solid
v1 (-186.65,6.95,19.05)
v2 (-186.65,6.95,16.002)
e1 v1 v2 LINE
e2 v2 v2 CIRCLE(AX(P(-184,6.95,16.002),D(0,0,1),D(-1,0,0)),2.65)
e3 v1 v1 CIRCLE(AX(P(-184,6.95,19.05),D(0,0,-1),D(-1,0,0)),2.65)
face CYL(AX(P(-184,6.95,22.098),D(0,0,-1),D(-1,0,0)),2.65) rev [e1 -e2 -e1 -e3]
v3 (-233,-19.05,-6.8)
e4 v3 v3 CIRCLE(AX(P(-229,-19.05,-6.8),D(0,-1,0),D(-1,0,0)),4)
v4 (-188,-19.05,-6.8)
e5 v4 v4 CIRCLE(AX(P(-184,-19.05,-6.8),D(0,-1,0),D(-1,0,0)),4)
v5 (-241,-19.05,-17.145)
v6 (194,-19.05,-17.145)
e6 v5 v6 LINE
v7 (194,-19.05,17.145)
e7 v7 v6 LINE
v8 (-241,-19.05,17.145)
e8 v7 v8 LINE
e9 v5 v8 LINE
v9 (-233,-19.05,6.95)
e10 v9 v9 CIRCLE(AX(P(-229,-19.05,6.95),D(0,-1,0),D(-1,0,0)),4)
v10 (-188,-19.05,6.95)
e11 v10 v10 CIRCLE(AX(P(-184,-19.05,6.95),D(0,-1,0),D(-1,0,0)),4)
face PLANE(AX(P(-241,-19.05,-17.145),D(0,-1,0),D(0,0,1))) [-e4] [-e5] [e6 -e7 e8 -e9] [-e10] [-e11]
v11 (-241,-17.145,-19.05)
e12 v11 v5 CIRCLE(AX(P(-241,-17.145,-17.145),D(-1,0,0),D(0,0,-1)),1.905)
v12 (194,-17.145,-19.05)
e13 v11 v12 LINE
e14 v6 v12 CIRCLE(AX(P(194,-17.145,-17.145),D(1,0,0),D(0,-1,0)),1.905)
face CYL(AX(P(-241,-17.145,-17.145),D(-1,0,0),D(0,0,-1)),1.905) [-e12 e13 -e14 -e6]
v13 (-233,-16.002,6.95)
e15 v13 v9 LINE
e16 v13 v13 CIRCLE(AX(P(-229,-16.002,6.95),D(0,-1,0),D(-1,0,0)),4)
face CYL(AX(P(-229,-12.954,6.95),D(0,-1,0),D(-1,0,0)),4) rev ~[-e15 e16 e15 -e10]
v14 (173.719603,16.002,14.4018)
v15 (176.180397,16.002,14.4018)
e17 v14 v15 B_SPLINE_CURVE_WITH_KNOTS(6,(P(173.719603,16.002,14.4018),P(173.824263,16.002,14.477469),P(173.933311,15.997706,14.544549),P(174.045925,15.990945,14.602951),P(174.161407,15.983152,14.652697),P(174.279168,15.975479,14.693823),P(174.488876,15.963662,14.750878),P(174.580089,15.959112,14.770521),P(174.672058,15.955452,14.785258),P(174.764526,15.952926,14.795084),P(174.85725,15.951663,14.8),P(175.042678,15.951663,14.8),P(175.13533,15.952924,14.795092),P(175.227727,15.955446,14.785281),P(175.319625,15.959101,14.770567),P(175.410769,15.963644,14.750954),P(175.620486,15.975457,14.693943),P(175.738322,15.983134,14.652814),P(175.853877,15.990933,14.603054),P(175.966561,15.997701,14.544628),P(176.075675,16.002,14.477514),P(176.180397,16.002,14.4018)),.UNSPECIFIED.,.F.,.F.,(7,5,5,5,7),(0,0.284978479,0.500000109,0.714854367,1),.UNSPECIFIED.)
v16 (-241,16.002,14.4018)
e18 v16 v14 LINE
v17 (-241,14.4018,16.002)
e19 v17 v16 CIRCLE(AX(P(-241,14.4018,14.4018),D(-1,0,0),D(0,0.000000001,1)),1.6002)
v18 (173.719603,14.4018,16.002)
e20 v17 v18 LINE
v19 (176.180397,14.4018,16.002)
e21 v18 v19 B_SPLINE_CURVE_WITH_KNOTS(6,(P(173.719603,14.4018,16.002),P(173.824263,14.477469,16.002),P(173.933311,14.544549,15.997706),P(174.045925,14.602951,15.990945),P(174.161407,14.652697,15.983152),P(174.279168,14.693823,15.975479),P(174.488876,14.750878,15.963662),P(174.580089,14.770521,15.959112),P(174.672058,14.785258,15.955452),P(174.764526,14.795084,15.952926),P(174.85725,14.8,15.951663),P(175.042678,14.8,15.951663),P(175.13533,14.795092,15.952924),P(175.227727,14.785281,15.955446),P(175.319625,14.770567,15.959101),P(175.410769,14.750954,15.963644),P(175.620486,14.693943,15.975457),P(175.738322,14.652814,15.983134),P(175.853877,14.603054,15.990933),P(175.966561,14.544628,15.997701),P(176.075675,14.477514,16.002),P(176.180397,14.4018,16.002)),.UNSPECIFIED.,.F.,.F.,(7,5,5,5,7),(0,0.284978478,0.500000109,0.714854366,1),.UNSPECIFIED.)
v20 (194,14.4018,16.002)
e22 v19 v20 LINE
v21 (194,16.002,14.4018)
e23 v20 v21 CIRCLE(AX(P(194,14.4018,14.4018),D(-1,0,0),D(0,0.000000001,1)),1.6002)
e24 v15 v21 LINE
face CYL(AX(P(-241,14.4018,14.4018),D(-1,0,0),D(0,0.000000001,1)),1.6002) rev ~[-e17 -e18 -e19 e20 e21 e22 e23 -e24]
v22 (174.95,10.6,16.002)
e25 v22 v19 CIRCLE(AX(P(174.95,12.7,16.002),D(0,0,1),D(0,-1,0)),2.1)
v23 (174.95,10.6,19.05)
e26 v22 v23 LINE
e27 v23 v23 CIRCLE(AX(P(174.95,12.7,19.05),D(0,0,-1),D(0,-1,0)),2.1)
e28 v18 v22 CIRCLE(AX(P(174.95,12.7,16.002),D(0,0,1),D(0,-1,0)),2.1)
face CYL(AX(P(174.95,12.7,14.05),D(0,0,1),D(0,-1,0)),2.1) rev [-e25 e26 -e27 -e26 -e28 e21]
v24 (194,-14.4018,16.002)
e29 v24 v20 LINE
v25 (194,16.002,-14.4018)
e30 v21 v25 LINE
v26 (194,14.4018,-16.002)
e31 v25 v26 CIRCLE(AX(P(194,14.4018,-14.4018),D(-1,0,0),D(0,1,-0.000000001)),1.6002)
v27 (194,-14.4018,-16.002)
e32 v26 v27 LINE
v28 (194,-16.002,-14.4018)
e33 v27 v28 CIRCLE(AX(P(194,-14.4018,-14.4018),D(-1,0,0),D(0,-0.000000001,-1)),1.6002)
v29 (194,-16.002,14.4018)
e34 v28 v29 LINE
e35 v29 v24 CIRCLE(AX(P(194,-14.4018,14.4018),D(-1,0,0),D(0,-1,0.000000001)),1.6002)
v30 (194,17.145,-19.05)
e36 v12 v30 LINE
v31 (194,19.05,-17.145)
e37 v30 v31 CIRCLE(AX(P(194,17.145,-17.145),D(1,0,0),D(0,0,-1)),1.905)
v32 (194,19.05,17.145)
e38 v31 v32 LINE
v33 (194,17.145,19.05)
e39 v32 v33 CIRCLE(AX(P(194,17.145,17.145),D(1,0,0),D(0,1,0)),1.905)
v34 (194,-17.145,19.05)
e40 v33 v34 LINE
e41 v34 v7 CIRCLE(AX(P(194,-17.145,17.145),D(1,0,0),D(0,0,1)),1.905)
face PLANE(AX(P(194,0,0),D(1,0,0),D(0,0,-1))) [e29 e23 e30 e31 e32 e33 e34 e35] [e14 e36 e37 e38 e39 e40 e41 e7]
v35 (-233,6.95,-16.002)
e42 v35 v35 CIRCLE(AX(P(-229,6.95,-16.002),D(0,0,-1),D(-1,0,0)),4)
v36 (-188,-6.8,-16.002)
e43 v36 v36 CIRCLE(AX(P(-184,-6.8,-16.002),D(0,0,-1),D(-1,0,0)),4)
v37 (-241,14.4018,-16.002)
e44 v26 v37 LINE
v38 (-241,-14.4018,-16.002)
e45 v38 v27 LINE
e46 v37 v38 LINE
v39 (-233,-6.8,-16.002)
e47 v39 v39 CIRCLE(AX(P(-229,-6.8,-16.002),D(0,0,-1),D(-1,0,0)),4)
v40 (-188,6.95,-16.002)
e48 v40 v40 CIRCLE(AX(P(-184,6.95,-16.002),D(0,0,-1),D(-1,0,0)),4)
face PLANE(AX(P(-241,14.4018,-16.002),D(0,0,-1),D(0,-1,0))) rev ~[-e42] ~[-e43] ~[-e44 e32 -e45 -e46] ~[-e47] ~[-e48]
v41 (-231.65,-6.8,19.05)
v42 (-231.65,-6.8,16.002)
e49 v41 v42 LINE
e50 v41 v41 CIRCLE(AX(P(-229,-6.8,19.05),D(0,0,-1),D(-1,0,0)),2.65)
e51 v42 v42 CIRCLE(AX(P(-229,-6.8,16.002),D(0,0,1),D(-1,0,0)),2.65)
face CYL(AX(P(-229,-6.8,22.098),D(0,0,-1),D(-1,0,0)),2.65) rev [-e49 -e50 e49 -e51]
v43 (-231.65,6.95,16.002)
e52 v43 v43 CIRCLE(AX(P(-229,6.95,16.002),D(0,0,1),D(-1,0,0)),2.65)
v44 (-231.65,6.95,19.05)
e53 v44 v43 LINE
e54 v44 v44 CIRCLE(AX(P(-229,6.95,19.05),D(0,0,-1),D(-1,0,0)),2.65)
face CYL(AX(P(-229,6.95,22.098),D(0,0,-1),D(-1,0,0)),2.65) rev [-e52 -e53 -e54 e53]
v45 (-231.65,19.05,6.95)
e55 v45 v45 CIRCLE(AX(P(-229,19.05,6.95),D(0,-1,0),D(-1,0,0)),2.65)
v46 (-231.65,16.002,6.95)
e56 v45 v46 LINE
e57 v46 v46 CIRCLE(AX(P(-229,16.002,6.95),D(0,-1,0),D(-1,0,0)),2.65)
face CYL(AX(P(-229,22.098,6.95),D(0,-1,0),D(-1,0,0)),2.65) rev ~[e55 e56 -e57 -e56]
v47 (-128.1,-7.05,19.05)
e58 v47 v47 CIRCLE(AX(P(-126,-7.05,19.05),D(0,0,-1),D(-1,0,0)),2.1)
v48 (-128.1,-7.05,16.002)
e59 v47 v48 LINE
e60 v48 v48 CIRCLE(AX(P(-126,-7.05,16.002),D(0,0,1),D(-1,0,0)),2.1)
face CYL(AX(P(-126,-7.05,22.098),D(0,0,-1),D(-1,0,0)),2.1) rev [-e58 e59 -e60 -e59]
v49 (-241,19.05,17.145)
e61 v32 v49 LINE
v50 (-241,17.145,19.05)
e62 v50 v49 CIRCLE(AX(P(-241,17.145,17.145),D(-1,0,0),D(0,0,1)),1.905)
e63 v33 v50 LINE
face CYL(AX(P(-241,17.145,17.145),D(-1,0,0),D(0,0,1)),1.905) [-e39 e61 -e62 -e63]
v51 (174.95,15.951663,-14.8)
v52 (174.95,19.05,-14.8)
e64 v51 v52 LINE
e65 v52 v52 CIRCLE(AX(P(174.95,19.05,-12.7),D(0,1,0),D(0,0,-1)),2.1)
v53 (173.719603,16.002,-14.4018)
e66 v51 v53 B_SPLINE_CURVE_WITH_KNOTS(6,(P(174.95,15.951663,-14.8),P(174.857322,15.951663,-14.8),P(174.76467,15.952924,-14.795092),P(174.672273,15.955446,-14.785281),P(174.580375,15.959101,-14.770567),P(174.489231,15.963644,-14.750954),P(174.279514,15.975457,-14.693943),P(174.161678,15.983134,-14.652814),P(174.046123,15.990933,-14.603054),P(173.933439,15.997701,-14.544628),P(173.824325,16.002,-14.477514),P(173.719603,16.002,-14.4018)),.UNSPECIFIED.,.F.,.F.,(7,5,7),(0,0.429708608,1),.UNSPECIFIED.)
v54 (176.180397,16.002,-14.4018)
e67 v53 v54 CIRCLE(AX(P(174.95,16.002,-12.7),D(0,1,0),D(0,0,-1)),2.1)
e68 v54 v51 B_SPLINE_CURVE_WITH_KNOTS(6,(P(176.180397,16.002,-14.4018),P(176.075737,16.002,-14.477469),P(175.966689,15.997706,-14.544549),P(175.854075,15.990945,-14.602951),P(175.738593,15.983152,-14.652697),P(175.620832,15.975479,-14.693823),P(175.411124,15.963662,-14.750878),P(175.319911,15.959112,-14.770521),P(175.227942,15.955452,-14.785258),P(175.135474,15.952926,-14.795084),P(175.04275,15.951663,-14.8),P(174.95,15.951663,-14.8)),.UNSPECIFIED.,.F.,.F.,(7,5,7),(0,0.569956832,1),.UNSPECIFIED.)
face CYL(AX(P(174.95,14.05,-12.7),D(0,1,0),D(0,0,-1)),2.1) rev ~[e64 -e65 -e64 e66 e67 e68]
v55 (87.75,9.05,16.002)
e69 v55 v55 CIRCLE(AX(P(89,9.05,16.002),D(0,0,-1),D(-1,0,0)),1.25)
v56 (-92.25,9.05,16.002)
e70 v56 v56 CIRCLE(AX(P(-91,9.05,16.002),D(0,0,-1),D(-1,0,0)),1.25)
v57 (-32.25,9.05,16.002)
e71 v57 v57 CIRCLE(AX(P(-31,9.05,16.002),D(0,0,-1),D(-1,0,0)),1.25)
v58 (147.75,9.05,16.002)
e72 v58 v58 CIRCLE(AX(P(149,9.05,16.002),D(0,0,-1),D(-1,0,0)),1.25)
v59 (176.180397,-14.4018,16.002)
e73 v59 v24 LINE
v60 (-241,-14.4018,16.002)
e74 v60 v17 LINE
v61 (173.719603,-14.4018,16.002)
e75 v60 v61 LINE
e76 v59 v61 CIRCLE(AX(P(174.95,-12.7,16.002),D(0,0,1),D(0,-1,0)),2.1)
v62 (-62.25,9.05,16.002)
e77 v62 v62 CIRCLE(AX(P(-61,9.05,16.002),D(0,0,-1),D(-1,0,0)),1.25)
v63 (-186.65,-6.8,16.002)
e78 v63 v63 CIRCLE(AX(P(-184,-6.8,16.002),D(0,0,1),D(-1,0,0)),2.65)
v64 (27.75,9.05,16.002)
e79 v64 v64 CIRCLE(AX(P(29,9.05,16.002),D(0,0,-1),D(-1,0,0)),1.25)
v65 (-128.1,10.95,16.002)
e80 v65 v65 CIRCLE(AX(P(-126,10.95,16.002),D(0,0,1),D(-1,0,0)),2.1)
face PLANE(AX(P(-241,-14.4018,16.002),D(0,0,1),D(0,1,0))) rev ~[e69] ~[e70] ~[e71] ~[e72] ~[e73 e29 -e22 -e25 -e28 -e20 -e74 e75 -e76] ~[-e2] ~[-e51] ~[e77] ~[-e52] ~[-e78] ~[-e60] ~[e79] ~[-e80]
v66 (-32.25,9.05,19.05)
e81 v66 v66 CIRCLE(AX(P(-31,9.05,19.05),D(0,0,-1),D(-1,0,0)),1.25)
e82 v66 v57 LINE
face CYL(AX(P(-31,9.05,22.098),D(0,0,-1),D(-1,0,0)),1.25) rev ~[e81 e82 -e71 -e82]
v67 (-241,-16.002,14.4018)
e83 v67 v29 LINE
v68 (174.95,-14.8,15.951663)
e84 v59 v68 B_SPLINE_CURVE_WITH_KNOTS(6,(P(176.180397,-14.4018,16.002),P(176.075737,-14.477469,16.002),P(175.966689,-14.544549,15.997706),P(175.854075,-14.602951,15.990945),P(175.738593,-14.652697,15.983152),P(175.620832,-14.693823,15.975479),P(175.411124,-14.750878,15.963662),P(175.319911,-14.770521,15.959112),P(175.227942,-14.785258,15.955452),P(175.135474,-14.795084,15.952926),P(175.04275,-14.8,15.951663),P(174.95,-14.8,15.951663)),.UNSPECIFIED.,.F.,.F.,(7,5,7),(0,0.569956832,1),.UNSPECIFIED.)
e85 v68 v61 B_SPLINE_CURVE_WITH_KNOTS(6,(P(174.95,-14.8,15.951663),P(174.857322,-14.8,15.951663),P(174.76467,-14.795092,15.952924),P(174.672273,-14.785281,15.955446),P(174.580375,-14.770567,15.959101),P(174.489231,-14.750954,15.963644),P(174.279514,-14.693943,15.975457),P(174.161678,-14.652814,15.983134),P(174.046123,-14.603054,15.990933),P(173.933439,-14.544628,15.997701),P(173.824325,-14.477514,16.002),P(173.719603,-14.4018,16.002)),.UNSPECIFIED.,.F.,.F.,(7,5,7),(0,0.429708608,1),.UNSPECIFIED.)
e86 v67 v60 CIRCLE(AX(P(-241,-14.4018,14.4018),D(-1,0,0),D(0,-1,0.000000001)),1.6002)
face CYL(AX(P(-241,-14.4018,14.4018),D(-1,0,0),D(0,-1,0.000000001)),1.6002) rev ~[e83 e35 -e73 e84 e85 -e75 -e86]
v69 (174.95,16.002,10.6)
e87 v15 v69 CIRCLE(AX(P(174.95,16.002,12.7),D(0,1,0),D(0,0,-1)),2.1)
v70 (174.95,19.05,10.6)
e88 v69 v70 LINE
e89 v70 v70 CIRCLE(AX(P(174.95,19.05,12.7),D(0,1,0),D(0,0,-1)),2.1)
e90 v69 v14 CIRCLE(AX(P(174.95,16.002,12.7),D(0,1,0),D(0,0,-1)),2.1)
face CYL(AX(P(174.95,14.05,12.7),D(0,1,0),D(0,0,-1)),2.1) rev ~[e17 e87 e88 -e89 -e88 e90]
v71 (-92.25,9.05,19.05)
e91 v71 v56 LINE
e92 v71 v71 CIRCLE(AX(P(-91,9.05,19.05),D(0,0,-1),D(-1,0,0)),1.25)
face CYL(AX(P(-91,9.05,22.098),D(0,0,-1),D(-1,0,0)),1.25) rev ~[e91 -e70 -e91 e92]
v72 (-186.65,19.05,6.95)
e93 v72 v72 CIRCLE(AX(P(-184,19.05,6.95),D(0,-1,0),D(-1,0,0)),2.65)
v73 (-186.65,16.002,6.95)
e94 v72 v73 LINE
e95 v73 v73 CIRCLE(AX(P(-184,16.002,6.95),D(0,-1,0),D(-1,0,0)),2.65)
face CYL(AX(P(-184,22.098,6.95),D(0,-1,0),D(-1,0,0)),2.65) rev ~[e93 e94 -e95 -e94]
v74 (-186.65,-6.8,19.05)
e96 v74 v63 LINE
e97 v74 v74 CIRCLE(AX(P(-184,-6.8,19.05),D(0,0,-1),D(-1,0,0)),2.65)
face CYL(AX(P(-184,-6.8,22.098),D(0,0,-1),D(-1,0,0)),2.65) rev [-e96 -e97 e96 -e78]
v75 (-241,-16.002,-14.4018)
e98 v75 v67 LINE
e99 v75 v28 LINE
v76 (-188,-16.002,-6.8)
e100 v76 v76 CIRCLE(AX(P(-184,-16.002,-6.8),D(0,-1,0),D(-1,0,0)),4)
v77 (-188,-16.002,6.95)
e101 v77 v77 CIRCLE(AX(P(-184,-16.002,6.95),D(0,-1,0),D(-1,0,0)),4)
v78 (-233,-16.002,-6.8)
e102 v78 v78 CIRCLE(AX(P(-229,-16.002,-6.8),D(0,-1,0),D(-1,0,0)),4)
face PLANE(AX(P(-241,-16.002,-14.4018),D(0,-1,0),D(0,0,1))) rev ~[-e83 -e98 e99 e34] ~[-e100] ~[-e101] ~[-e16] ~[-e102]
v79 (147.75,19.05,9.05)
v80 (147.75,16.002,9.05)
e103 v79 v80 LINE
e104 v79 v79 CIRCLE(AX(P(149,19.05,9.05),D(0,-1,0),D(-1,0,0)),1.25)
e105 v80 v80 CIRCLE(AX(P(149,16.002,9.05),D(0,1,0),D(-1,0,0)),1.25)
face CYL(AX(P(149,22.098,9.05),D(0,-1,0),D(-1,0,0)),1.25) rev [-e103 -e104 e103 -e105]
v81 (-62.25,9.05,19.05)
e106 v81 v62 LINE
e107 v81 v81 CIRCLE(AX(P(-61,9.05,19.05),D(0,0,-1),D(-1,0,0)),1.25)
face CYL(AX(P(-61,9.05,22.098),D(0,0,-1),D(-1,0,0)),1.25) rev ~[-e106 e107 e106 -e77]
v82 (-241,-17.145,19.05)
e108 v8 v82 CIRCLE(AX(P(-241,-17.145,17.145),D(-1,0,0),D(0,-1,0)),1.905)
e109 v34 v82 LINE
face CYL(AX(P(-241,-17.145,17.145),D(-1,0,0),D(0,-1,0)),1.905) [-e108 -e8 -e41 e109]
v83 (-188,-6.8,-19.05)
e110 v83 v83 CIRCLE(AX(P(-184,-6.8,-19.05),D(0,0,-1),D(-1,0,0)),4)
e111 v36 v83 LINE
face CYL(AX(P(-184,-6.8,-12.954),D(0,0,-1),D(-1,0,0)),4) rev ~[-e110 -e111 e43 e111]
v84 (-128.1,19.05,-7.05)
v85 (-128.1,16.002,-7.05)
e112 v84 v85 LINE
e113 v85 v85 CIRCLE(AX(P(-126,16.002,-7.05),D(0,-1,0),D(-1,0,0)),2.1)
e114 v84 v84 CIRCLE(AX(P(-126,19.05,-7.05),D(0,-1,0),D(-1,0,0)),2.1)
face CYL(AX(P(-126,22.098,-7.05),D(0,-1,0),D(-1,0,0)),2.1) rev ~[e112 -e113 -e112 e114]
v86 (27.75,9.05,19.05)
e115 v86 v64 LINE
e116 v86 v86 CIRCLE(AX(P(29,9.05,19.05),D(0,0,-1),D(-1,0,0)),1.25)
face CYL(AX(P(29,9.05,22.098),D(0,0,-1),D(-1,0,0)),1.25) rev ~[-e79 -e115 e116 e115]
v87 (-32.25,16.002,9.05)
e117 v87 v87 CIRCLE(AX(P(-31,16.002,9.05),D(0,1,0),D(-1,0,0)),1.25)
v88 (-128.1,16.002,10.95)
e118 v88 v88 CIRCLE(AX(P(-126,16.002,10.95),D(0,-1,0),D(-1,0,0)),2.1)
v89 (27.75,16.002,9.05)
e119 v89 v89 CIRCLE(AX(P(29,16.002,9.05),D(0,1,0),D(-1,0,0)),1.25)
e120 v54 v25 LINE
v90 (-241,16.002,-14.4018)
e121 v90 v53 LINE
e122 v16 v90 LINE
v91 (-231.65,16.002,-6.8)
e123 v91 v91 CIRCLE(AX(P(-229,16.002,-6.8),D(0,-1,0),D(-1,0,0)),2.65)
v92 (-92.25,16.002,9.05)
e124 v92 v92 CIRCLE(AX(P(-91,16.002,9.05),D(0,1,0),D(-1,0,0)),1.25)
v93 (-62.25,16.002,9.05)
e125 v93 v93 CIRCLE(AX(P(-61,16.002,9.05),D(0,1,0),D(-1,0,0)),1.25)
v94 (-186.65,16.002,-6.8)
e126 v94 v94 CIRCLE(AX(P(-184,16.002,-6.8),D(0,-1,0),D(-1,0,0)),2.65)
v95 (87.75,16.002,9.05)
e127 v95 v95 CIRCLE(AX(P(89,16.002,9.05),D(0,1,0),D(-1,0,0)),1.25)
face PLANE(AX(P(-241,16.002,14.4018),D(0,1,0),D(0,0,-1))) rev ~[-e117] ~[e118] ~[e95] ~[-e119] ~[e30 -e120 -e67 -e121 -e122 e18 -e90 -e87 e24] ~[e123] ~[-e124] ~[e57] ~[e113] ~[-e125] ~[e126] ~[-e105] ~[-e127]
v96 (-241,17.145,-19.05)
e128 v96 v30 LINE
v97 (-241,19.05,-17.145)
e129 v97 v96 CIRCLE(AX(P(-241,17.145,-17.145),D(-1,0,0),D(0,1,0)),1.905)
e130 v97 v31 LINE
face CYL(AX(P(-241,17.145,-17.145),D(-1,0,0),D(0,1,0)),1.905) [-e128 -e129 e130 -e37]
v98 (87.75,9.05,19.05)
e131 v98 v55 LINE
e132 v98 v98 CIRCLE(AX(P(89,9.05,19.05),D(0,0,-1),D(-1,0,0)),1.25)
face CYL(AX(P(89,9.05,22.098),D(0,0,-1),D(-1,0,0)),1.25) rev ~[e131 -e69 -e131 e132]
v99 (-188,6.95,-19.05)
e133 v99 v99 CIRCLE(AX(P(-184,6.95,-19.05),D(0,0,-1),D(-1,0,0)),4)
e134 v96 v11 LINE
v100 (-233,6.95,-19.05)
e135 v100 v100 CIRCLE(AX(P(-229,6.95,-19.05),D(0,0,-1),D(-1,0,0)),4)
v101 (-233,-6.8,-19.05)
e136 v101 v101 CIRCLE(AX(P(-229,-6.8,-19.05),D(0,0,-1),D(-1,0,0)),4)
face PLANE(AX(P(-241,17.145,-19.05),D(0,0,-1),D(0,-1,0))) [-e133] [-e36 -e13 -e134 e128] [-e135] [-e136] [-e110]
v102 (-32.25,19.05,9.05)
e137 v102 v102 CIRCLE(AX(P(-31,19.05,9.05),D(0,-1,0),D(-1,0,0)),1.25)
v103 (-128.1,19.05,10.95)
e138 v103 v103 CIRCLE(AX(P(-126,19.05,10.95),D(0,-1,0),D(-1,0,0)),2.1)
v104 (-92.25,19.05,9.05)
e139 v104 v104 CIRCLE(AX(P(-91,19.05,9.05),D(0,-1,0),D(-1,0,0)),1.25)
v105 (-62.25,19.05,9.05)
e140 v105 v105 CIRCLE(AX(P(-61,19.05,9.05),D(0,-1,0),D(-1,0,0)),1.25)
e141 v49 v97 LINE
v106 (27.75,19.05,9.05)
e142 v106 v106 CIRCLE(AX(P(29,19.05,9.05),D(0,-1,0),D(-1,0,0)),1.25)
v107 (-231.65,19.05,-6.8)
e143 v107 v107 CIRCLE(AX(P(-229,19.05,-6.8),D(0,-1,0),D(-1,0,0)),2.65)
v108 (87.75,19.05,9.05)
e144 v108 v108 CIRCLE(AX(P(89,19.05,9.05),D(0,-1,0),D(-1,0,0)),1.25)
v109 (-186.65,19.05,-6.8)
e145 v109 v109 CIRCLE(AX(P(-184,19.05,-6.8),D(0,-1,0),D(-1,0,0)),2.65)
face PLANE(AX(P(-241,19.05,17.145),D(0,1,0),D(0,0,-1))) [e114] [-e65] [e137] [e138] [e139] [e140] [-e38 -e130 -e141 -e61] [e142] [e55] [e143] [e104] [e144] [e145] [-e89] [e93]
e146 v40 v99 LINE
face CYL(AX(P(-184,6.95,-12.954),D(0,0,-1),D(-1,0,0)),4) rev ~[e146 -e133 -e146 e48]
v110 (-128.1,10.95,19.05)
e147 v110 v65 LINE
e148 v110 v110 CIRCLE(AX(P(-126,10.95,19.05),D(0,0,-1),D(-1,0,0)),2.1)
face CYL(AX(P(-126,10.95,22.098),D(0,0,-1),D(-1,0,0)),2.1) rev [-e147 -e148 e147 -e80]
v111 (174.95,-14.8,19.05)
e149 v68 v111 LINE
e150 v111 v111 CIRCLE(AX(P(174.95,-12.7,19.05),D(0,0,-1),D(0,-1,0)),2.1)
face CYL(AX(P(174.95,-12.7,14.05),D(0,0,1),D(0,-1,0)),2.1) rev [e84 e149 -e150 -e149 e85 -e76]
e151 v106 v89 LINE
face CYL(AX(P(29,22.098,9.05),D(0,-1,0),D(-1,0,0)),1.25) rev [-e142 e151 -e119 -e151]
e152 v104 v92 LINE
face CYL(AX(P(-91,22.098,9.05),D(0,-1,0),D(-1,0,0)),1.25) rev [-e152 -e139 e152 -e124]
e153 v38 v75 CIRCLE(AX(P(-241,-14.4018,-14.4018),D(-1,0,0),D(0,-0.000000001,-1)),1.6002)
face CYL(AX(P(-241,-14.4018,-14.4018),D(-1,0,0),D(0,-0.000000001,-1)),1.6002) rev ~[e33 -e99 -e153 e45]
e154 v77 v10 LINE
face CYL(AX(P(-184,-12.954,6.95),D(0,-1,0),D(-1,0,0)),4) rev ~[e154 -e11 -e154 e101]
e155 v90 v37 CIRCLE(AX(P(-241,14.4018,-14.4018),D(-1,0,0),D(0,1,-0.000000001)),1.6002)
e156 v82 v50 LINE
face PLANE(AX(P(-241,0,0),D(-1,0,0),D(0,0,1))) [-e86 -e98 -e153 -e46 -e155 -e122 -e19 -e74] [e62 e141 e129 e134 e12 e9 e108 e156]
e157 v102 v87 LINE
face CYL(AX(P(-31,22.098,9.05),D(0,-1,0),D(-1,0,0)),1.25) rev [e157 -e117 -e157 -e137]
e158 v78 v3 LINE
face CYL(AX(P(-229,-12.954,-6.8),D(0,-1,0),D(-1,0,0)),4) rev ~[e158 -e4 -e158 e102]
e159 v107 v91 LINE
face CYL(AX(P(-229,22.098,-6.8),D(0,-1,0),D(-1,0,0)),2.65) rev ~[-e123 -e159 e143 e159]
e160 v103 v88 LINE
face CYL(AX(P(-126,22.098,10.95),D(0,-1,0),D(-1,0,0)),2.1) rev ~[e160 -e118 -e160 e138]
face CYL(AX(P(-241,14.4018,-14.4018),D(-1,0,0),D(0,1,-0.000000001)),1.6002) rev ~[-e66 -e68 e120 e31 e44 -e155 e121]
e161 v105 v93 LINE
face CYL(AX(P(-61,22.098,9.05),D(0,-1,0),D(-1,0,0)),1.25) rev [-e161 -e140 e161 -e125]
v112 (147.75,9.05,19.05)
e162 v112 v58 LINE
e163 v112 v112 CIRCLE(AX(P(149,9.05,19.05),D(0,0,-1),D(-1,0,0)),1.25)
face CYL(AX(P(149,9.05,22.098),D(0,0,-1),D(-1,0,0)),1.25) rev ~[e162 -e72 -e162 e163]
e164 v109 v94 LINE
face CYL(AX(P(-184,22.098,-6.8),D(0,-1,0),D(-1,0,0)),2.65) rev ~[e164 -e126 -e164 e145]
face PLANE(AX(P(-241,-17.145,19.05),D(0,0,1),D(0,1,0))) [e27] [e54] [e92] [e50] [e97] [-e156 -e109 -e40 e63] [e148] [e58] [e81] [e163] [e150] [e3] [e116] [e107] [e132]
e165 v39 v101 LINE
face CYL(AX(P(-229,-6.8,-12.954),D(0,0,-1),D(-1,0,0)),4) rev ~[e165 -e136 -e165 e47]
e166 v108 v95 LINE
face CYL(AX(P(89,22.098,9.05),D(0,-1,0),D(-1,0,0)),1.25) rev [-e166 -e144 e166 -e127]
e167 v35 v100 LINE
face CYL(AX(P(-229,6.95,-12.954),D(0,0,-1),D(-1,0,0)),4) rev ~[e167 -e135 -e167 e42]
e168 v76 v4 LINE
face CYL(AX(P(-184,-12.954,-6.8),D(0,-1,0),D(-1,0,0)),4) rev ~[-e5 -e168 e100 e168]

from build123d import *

# Parameters (mm, degrees)
BOSS_EXTRUDE1_DEPTH                  = 194
BOSS_EXTRUDE1_DEPTH_BACK             = 194
TAP_DRILL_FOR_M5X0_8_TAP1_D          = 4.2
TAP_DRILL_FOR_M5X0_8_TAP1_DEPTH      = 3.048
TAP_DRILL_FOR_M3X0_5_TAP1_D          = 2.5
TAP_DRILL_FOR_M3X0_5_TAP1_DEPTH      = 3.048
TAP_DRILL_FOR_M5X0_8_TAP2_AT_2_COUNT = 2
TAP_DRILL_FOR_M5X0_8_TAP2_AT_2_PITCH = 25.4
BOSS_EXTRUDE3_START                  = 40
BOSS_EXTRUDE3_DEPTH                  = 40
M5_CLEARANCE_HOLE1_D                 = 5.3
M5_CLEARANCE_HOLE1_DEPTH             = 3.048
BOSS_EXTRUDE4_START                  = 7
BOSS_EXTRUDE4_DEPTH                  = 7
F_8_0_8_DIAMETER_HOLE1_D             = 8
F_8_0_8_DIAMETER_HOLE1_DEPTH         = 3.048
F_8_0_8_DIAMETER_HOLE2_D             = 8
F_8_0_8_DIAMETER_HOLE2_DEPTH         = 3.048


with BuildPart() as part:
    # Sketch4 → Boss-Extrude1 (new, two sides: drawn at the far end of the back side and taken through both)
    with BuildSketch(Plane(origin=(0, 0, 0), x_dir=(0, 0, -1), z_dir=(1, 0, 0)).offset(-BOSS_EXTRUDE1_DEPTH_BACK)):
        with BuildLine():
            Line((19.05, -17.145), (19.05, 17.145))
            ThreePointArc((19.05, 17.145), (18.492038418, 18.492038418), (17.145, 19.05))
            Line((17.145, 19.05), (-17.145, 19.05))
            ThreePointArc((-17.145, 19.05), (-18.492038418, 18.492038418), (-19.05, 17.145))
            Line((-19.05, 17.145), (-19.05, -17.145))
            ThreePointArc((-19.05, -17.145), (-18.492038418, -18.492038418), (-17.145, -19.05))
            Line((-17.145, -19.05), (17.145, -19.05))
            ThreePointArc((17.145, -19.05), (18.492038418, -18.492038418), (19.05, -17.145))
        make_face()
        with BuildLine():
            Line((16.002, 14.4018), (16.002, -14.4018))
            ThreePointArc((16.002, -14.4018), (15.533312271, -15.533312271), (14.4018, -16.002))
            Line((14.4018, -16.002), (-14.4018, -16.002))
            ThreePointArc((-14.4018, -16.002), (-15.533312271, -15.533312271), (-16.002, -14.4018))
            Line((-16.002, -14.4018), (-16.002, 14.4018))
            ThreePointArc((-16.002, 14.4018), (-15.533312271, 15.533312271), (-14.4018, 16.002))
            Line((-14.4018, 16.002), (14.4018, 16.002))
            ThreePointArc((14.4018, 16.002), (15.533312271, 15.533312271), (16.002, 14.4018))
        make_face(mode=Mode.SUBTRACT)
    extrude(amount=BOSS_EXTRUDE1_DEPTH + BOSS_EXTRUDE1_DEPTH_BACK)

    # Tap Drill for M5x0.8 Tap1
    with Locations(Plane(origin=(0, 19.05, 0), x_dir=(1, 0, 0), z_dir=(0, 1, 0))):
        with Locations((-126, 7.05), (-126, -10.95)):
            tap_drill_for_m5x0_8_tap1 = Hole(TAP_DRILL_FOR_M5X0_8_TAP1_D / 2, depth=TAP_DRILL_FOR_M5X0_8_TAP1_DEPTH)

    # Tap Drill for M3x0.5 Tap1
    with Locations(Plane.XY.offset(19.05)):
        with Locations((149, 9.05), (89, 9.05), (29, 9.05), (-31, 9.05), (-91, 9.05), (-61, 9.05)):
            tap_drill_for_m3x0_5_tap1 = Hole(TAP_DRILL_FOR_M3X0_5_TAP1_D / 2, depth=TAP_DRILL_FOR_M3X0_5_TAP1_DEPTH)

    # Sketch22 → Tap Drill for M5x0.8 Tap2 (revolve, cut)
    with BuildSketch(Plane(origin=(174.95, 12.7, 19.05), x_dir=(0, -1, 0), z_dir=(1, 0, 0))):
        Polygon((0, 0), (0, 6.2618073), (2.1, 5), (2.1, 0), align=None)
    tap_drill_for_m5x0_8_tap2 = revolve(axis=Axis((174.95, 12.7, 25.4), (0, 0, -1)), mode=Mode.SUBTRACT)

    # Tap Drill for M5x0.8 Tap2 at 2: Tap Drill for M5x0.8 Tap2 ×2
    with Locations(*[(0, -i * TAP_DRILL_FOR_M5X0_8_TAP2_AT_2_PITCH, 0) for i in range(1, TAP_DRILL_FOR_M5X0_8_TAP2_AT_2_COUNT)]):
        add(tap_drill_for_m5x0_8_tap2, mode=Mode.SUBTRACT)

    # Mirror1: Tap Drill for M5x0.8 Tap1, Tap Drill for M3x0.5 Tap1, Tap Drill for M5x0.8 Tap2 across plane
    add(tap_drill_for_m5x0_8_tap1.mirror(Plane(origin=(0, 0, 0), x_dir=(0, 0.7071067811865478, 0.7071067811865472), z_dir=(0, -0.7071067811865475, 0.7071067811865477))), mode=Mode.SUBTRACT)
    add(tap_drill_for_m3x0_5_tap1.mirror(Plane(origin=(0, 0, 0), x_dir=(0, 0.7071067811865478, 0.7071067811865472), z_dir=(0, -0.7071067811865475, 0.7071067811865477))), mode=Mode.SUBTRACT)
    add(tap_drill_for_m5x0_8_tap2.mirror(Plane(origin=(0, 0, 0), x_dir=(0, 0.7071067811865478, 0.7071067811865472), z_dir=(0, -0.7071067811865475, 0.7071067811865477))), mode=Mode.SUBTRACT)

    # Mirror1 copy 1 sketch → Mirror1 copy 1 (revolve, cut)
    with BuildSketch(Plane(origin=(174.95, 19.05, -12.7), x_dir=(0, 0, -1), z_dir=(1, 0, 0))):
        Polygon((0, 0), (0, -6.2618073), (2.1, -5), (2.1, 0), align=None)
    revolve(axis=Axis((174.95, 25.4, -12.7), (0, 1, 0)), mode=Mode.SUBTRACT)

    # Sketch11 → Boss-Extrude3 (add)
    with BuildSketch(Plane.ZY.offset(194).offset(BOSS_EXTRUDE3_START)):
        with BuildLine():
            Line((-17.145, -19.05), (17.145, -19.05))
            ThreePointArc((17.145, -19.05), (18.492038418, -18.492038418), (19.05, -17.145))
            Line((19.05, -17.145), (19.05, 17.145))
            ThreePointArc((19.05, 17.145), (18.492038418, 18.492038418), (17.145, 19.05))
            Line((17.145, 19.05), (-17.145, 19.05))
            ThreePointArc((-17.145, 19.05), (-18.492038418, 18.492038418), (-19.05, 17.145))
            Line((-19.05, 17.145), (-19.05, -17.145))
            ThreePointArc((-19.05, -17.145), (-18.492038418, -18.492038418), (-17.145, -19.05))
        make_face()
        with BuildLine():
            Line((-16.002, 14.4018), (-16.002, -14.4018))
            ThreePointArc((-16.002, -14.4018), (-15.533312271, -15.533312271), (-14.4018, -16.002))
            Line((-14.4018, -16.002), (14.4018, -16.002))
            ThreePointArc((14.4018, -16.002), (15.533312271, -15.533312271), (16.002, -14.4018))
            Line((16.002, -14.4018), (16.002, 14.4018))
            ThreePointArc((16.002, 14.4018), (15.533312271, 15.533312271), (14.4018, 16.002))
            Line((14.4018, 16.002), (-14.4018, 16.002))
            ThreePointArc((-14.4018, 16.002), (-15.533312271, 15.533312271), (-16.002, 14.4018))
        make_face(mode=Mode.SUBTRACT)
    extrude(amount=-BOSS_EXTRUDE3_DEPTH)

    # M5 Clearance Hole1
    with Locations(Plane(origin=(0, 19.05, 0), x_dir=(1, 0, 0), z_dir=(0, 1, 0))):
        with Locations((-229, 6.8), (-229, -6.95), (-184, -6.95), (-184, 6.8)):
            m5_clearance_hole1 = Hole(M5_CLEARANCE_HOLE1_D / 2, depth=M5_CLEARANCE_HOLE1_DEPTH)

    # Mirror2: M5 Clearance Hole1 across plane
    add(m5_clearance_hole1.mirror(Plane(origin=(0, 0, 0), x_dir=(0, 0.7071067811865478, 0.7071067811865472), z_dir=(0, -0.7071067811865475, 0.7071067811865477))), mode=Mode.SUBTRACT)

    # Sketch16 → Boss-Extrude4 (add)
    with BuildSketch(Plane.ZY.offset(234).offset(BOSS_EXTRUDE4_START)):
        with BuildLine():
            Line((-17.145, -19.05), (17.145, -19.05))
            ThreePointArc((17.145, -19.05), (18.492038418, -18.492038418), (19.05, -17.145))
            Line((19.05, -17.145), (19.05, 17.145))
            ThreePointArc((19.05, 17.145), (18.492038418, 18.492038418), (17.145, 19.05))
            Line((17.145, 19.05), (-17.145, 19.05))
            ThreePointArc((-17.145, 19.05), (-18.492038418, 18.492038418), (-19.05, 17.145))
            Line((-19.05, 17.145), (-19.05, -17.145))
            ThreePointArc((-19.05, -17.145), (-18.492038418, -18.492038418), (-17.145, -19.05))
        make_face()
        with BuildLine():
            Line((-16.002, 14.4018), (-16.002, -14.4018))
            ThreePointArc((-16.002, -14.4018), (-15.533312271, -15.533312271), (-14.4018, -16.002))
            Line((-14.4018, -16.002), (14.4018, -16.002))
            ThreePointArc((14.4018, -16.002), (15.533312271, -15.533312271), (16.002, -14.4018))
            Line((16.002, -14.4018), (16.002, 14.4018))
            ThreePointArc((16.002, 14.4018), (15.533312271, 15.533312271), (14.4018, 16.002))
            Line((14.4018, 16.002), (-14.4018, 16.002))
            ThreePointArc((-14.4018, 16.002), (-15.533312271, 15.533312271), (-16.002, 14.4018))
        make_face(mode=Mode.SUBTRACT)
    extrude(amount=-BOSS_EXTRUDE4_DEPTH)

    # Ø8.0 (8) Diameter Hole1
    with Locations(Plane.XY.offset(-16.002)):
        with Locations((-229, -6.8), (-229, 6.95), (-184, 6.95), (-184, -6.8)):
            Hole(F_8_0_8_DIAMETER_HOLE1_D / 2, depth=F_8_0_8_DIAMETER_HOLE1_DEPTH)

    # Ø8.0 (8) Diameter Hole2
    with Locations(Plane(origin=(0, -16.002, 0), x_dir=(1, 0, 0), z_dir=(0, 1, 0))):
        with Locations((-229, 6.8), (-229, -6.95), (-184, -6.95), (-184, 6.8)):
            Hole(F_8_0_8_DIAMETER_HOLE2_D / 2, depth=F_8_0_8_DIAMETER_HOLE2_DEPTH)


solid = part.part
